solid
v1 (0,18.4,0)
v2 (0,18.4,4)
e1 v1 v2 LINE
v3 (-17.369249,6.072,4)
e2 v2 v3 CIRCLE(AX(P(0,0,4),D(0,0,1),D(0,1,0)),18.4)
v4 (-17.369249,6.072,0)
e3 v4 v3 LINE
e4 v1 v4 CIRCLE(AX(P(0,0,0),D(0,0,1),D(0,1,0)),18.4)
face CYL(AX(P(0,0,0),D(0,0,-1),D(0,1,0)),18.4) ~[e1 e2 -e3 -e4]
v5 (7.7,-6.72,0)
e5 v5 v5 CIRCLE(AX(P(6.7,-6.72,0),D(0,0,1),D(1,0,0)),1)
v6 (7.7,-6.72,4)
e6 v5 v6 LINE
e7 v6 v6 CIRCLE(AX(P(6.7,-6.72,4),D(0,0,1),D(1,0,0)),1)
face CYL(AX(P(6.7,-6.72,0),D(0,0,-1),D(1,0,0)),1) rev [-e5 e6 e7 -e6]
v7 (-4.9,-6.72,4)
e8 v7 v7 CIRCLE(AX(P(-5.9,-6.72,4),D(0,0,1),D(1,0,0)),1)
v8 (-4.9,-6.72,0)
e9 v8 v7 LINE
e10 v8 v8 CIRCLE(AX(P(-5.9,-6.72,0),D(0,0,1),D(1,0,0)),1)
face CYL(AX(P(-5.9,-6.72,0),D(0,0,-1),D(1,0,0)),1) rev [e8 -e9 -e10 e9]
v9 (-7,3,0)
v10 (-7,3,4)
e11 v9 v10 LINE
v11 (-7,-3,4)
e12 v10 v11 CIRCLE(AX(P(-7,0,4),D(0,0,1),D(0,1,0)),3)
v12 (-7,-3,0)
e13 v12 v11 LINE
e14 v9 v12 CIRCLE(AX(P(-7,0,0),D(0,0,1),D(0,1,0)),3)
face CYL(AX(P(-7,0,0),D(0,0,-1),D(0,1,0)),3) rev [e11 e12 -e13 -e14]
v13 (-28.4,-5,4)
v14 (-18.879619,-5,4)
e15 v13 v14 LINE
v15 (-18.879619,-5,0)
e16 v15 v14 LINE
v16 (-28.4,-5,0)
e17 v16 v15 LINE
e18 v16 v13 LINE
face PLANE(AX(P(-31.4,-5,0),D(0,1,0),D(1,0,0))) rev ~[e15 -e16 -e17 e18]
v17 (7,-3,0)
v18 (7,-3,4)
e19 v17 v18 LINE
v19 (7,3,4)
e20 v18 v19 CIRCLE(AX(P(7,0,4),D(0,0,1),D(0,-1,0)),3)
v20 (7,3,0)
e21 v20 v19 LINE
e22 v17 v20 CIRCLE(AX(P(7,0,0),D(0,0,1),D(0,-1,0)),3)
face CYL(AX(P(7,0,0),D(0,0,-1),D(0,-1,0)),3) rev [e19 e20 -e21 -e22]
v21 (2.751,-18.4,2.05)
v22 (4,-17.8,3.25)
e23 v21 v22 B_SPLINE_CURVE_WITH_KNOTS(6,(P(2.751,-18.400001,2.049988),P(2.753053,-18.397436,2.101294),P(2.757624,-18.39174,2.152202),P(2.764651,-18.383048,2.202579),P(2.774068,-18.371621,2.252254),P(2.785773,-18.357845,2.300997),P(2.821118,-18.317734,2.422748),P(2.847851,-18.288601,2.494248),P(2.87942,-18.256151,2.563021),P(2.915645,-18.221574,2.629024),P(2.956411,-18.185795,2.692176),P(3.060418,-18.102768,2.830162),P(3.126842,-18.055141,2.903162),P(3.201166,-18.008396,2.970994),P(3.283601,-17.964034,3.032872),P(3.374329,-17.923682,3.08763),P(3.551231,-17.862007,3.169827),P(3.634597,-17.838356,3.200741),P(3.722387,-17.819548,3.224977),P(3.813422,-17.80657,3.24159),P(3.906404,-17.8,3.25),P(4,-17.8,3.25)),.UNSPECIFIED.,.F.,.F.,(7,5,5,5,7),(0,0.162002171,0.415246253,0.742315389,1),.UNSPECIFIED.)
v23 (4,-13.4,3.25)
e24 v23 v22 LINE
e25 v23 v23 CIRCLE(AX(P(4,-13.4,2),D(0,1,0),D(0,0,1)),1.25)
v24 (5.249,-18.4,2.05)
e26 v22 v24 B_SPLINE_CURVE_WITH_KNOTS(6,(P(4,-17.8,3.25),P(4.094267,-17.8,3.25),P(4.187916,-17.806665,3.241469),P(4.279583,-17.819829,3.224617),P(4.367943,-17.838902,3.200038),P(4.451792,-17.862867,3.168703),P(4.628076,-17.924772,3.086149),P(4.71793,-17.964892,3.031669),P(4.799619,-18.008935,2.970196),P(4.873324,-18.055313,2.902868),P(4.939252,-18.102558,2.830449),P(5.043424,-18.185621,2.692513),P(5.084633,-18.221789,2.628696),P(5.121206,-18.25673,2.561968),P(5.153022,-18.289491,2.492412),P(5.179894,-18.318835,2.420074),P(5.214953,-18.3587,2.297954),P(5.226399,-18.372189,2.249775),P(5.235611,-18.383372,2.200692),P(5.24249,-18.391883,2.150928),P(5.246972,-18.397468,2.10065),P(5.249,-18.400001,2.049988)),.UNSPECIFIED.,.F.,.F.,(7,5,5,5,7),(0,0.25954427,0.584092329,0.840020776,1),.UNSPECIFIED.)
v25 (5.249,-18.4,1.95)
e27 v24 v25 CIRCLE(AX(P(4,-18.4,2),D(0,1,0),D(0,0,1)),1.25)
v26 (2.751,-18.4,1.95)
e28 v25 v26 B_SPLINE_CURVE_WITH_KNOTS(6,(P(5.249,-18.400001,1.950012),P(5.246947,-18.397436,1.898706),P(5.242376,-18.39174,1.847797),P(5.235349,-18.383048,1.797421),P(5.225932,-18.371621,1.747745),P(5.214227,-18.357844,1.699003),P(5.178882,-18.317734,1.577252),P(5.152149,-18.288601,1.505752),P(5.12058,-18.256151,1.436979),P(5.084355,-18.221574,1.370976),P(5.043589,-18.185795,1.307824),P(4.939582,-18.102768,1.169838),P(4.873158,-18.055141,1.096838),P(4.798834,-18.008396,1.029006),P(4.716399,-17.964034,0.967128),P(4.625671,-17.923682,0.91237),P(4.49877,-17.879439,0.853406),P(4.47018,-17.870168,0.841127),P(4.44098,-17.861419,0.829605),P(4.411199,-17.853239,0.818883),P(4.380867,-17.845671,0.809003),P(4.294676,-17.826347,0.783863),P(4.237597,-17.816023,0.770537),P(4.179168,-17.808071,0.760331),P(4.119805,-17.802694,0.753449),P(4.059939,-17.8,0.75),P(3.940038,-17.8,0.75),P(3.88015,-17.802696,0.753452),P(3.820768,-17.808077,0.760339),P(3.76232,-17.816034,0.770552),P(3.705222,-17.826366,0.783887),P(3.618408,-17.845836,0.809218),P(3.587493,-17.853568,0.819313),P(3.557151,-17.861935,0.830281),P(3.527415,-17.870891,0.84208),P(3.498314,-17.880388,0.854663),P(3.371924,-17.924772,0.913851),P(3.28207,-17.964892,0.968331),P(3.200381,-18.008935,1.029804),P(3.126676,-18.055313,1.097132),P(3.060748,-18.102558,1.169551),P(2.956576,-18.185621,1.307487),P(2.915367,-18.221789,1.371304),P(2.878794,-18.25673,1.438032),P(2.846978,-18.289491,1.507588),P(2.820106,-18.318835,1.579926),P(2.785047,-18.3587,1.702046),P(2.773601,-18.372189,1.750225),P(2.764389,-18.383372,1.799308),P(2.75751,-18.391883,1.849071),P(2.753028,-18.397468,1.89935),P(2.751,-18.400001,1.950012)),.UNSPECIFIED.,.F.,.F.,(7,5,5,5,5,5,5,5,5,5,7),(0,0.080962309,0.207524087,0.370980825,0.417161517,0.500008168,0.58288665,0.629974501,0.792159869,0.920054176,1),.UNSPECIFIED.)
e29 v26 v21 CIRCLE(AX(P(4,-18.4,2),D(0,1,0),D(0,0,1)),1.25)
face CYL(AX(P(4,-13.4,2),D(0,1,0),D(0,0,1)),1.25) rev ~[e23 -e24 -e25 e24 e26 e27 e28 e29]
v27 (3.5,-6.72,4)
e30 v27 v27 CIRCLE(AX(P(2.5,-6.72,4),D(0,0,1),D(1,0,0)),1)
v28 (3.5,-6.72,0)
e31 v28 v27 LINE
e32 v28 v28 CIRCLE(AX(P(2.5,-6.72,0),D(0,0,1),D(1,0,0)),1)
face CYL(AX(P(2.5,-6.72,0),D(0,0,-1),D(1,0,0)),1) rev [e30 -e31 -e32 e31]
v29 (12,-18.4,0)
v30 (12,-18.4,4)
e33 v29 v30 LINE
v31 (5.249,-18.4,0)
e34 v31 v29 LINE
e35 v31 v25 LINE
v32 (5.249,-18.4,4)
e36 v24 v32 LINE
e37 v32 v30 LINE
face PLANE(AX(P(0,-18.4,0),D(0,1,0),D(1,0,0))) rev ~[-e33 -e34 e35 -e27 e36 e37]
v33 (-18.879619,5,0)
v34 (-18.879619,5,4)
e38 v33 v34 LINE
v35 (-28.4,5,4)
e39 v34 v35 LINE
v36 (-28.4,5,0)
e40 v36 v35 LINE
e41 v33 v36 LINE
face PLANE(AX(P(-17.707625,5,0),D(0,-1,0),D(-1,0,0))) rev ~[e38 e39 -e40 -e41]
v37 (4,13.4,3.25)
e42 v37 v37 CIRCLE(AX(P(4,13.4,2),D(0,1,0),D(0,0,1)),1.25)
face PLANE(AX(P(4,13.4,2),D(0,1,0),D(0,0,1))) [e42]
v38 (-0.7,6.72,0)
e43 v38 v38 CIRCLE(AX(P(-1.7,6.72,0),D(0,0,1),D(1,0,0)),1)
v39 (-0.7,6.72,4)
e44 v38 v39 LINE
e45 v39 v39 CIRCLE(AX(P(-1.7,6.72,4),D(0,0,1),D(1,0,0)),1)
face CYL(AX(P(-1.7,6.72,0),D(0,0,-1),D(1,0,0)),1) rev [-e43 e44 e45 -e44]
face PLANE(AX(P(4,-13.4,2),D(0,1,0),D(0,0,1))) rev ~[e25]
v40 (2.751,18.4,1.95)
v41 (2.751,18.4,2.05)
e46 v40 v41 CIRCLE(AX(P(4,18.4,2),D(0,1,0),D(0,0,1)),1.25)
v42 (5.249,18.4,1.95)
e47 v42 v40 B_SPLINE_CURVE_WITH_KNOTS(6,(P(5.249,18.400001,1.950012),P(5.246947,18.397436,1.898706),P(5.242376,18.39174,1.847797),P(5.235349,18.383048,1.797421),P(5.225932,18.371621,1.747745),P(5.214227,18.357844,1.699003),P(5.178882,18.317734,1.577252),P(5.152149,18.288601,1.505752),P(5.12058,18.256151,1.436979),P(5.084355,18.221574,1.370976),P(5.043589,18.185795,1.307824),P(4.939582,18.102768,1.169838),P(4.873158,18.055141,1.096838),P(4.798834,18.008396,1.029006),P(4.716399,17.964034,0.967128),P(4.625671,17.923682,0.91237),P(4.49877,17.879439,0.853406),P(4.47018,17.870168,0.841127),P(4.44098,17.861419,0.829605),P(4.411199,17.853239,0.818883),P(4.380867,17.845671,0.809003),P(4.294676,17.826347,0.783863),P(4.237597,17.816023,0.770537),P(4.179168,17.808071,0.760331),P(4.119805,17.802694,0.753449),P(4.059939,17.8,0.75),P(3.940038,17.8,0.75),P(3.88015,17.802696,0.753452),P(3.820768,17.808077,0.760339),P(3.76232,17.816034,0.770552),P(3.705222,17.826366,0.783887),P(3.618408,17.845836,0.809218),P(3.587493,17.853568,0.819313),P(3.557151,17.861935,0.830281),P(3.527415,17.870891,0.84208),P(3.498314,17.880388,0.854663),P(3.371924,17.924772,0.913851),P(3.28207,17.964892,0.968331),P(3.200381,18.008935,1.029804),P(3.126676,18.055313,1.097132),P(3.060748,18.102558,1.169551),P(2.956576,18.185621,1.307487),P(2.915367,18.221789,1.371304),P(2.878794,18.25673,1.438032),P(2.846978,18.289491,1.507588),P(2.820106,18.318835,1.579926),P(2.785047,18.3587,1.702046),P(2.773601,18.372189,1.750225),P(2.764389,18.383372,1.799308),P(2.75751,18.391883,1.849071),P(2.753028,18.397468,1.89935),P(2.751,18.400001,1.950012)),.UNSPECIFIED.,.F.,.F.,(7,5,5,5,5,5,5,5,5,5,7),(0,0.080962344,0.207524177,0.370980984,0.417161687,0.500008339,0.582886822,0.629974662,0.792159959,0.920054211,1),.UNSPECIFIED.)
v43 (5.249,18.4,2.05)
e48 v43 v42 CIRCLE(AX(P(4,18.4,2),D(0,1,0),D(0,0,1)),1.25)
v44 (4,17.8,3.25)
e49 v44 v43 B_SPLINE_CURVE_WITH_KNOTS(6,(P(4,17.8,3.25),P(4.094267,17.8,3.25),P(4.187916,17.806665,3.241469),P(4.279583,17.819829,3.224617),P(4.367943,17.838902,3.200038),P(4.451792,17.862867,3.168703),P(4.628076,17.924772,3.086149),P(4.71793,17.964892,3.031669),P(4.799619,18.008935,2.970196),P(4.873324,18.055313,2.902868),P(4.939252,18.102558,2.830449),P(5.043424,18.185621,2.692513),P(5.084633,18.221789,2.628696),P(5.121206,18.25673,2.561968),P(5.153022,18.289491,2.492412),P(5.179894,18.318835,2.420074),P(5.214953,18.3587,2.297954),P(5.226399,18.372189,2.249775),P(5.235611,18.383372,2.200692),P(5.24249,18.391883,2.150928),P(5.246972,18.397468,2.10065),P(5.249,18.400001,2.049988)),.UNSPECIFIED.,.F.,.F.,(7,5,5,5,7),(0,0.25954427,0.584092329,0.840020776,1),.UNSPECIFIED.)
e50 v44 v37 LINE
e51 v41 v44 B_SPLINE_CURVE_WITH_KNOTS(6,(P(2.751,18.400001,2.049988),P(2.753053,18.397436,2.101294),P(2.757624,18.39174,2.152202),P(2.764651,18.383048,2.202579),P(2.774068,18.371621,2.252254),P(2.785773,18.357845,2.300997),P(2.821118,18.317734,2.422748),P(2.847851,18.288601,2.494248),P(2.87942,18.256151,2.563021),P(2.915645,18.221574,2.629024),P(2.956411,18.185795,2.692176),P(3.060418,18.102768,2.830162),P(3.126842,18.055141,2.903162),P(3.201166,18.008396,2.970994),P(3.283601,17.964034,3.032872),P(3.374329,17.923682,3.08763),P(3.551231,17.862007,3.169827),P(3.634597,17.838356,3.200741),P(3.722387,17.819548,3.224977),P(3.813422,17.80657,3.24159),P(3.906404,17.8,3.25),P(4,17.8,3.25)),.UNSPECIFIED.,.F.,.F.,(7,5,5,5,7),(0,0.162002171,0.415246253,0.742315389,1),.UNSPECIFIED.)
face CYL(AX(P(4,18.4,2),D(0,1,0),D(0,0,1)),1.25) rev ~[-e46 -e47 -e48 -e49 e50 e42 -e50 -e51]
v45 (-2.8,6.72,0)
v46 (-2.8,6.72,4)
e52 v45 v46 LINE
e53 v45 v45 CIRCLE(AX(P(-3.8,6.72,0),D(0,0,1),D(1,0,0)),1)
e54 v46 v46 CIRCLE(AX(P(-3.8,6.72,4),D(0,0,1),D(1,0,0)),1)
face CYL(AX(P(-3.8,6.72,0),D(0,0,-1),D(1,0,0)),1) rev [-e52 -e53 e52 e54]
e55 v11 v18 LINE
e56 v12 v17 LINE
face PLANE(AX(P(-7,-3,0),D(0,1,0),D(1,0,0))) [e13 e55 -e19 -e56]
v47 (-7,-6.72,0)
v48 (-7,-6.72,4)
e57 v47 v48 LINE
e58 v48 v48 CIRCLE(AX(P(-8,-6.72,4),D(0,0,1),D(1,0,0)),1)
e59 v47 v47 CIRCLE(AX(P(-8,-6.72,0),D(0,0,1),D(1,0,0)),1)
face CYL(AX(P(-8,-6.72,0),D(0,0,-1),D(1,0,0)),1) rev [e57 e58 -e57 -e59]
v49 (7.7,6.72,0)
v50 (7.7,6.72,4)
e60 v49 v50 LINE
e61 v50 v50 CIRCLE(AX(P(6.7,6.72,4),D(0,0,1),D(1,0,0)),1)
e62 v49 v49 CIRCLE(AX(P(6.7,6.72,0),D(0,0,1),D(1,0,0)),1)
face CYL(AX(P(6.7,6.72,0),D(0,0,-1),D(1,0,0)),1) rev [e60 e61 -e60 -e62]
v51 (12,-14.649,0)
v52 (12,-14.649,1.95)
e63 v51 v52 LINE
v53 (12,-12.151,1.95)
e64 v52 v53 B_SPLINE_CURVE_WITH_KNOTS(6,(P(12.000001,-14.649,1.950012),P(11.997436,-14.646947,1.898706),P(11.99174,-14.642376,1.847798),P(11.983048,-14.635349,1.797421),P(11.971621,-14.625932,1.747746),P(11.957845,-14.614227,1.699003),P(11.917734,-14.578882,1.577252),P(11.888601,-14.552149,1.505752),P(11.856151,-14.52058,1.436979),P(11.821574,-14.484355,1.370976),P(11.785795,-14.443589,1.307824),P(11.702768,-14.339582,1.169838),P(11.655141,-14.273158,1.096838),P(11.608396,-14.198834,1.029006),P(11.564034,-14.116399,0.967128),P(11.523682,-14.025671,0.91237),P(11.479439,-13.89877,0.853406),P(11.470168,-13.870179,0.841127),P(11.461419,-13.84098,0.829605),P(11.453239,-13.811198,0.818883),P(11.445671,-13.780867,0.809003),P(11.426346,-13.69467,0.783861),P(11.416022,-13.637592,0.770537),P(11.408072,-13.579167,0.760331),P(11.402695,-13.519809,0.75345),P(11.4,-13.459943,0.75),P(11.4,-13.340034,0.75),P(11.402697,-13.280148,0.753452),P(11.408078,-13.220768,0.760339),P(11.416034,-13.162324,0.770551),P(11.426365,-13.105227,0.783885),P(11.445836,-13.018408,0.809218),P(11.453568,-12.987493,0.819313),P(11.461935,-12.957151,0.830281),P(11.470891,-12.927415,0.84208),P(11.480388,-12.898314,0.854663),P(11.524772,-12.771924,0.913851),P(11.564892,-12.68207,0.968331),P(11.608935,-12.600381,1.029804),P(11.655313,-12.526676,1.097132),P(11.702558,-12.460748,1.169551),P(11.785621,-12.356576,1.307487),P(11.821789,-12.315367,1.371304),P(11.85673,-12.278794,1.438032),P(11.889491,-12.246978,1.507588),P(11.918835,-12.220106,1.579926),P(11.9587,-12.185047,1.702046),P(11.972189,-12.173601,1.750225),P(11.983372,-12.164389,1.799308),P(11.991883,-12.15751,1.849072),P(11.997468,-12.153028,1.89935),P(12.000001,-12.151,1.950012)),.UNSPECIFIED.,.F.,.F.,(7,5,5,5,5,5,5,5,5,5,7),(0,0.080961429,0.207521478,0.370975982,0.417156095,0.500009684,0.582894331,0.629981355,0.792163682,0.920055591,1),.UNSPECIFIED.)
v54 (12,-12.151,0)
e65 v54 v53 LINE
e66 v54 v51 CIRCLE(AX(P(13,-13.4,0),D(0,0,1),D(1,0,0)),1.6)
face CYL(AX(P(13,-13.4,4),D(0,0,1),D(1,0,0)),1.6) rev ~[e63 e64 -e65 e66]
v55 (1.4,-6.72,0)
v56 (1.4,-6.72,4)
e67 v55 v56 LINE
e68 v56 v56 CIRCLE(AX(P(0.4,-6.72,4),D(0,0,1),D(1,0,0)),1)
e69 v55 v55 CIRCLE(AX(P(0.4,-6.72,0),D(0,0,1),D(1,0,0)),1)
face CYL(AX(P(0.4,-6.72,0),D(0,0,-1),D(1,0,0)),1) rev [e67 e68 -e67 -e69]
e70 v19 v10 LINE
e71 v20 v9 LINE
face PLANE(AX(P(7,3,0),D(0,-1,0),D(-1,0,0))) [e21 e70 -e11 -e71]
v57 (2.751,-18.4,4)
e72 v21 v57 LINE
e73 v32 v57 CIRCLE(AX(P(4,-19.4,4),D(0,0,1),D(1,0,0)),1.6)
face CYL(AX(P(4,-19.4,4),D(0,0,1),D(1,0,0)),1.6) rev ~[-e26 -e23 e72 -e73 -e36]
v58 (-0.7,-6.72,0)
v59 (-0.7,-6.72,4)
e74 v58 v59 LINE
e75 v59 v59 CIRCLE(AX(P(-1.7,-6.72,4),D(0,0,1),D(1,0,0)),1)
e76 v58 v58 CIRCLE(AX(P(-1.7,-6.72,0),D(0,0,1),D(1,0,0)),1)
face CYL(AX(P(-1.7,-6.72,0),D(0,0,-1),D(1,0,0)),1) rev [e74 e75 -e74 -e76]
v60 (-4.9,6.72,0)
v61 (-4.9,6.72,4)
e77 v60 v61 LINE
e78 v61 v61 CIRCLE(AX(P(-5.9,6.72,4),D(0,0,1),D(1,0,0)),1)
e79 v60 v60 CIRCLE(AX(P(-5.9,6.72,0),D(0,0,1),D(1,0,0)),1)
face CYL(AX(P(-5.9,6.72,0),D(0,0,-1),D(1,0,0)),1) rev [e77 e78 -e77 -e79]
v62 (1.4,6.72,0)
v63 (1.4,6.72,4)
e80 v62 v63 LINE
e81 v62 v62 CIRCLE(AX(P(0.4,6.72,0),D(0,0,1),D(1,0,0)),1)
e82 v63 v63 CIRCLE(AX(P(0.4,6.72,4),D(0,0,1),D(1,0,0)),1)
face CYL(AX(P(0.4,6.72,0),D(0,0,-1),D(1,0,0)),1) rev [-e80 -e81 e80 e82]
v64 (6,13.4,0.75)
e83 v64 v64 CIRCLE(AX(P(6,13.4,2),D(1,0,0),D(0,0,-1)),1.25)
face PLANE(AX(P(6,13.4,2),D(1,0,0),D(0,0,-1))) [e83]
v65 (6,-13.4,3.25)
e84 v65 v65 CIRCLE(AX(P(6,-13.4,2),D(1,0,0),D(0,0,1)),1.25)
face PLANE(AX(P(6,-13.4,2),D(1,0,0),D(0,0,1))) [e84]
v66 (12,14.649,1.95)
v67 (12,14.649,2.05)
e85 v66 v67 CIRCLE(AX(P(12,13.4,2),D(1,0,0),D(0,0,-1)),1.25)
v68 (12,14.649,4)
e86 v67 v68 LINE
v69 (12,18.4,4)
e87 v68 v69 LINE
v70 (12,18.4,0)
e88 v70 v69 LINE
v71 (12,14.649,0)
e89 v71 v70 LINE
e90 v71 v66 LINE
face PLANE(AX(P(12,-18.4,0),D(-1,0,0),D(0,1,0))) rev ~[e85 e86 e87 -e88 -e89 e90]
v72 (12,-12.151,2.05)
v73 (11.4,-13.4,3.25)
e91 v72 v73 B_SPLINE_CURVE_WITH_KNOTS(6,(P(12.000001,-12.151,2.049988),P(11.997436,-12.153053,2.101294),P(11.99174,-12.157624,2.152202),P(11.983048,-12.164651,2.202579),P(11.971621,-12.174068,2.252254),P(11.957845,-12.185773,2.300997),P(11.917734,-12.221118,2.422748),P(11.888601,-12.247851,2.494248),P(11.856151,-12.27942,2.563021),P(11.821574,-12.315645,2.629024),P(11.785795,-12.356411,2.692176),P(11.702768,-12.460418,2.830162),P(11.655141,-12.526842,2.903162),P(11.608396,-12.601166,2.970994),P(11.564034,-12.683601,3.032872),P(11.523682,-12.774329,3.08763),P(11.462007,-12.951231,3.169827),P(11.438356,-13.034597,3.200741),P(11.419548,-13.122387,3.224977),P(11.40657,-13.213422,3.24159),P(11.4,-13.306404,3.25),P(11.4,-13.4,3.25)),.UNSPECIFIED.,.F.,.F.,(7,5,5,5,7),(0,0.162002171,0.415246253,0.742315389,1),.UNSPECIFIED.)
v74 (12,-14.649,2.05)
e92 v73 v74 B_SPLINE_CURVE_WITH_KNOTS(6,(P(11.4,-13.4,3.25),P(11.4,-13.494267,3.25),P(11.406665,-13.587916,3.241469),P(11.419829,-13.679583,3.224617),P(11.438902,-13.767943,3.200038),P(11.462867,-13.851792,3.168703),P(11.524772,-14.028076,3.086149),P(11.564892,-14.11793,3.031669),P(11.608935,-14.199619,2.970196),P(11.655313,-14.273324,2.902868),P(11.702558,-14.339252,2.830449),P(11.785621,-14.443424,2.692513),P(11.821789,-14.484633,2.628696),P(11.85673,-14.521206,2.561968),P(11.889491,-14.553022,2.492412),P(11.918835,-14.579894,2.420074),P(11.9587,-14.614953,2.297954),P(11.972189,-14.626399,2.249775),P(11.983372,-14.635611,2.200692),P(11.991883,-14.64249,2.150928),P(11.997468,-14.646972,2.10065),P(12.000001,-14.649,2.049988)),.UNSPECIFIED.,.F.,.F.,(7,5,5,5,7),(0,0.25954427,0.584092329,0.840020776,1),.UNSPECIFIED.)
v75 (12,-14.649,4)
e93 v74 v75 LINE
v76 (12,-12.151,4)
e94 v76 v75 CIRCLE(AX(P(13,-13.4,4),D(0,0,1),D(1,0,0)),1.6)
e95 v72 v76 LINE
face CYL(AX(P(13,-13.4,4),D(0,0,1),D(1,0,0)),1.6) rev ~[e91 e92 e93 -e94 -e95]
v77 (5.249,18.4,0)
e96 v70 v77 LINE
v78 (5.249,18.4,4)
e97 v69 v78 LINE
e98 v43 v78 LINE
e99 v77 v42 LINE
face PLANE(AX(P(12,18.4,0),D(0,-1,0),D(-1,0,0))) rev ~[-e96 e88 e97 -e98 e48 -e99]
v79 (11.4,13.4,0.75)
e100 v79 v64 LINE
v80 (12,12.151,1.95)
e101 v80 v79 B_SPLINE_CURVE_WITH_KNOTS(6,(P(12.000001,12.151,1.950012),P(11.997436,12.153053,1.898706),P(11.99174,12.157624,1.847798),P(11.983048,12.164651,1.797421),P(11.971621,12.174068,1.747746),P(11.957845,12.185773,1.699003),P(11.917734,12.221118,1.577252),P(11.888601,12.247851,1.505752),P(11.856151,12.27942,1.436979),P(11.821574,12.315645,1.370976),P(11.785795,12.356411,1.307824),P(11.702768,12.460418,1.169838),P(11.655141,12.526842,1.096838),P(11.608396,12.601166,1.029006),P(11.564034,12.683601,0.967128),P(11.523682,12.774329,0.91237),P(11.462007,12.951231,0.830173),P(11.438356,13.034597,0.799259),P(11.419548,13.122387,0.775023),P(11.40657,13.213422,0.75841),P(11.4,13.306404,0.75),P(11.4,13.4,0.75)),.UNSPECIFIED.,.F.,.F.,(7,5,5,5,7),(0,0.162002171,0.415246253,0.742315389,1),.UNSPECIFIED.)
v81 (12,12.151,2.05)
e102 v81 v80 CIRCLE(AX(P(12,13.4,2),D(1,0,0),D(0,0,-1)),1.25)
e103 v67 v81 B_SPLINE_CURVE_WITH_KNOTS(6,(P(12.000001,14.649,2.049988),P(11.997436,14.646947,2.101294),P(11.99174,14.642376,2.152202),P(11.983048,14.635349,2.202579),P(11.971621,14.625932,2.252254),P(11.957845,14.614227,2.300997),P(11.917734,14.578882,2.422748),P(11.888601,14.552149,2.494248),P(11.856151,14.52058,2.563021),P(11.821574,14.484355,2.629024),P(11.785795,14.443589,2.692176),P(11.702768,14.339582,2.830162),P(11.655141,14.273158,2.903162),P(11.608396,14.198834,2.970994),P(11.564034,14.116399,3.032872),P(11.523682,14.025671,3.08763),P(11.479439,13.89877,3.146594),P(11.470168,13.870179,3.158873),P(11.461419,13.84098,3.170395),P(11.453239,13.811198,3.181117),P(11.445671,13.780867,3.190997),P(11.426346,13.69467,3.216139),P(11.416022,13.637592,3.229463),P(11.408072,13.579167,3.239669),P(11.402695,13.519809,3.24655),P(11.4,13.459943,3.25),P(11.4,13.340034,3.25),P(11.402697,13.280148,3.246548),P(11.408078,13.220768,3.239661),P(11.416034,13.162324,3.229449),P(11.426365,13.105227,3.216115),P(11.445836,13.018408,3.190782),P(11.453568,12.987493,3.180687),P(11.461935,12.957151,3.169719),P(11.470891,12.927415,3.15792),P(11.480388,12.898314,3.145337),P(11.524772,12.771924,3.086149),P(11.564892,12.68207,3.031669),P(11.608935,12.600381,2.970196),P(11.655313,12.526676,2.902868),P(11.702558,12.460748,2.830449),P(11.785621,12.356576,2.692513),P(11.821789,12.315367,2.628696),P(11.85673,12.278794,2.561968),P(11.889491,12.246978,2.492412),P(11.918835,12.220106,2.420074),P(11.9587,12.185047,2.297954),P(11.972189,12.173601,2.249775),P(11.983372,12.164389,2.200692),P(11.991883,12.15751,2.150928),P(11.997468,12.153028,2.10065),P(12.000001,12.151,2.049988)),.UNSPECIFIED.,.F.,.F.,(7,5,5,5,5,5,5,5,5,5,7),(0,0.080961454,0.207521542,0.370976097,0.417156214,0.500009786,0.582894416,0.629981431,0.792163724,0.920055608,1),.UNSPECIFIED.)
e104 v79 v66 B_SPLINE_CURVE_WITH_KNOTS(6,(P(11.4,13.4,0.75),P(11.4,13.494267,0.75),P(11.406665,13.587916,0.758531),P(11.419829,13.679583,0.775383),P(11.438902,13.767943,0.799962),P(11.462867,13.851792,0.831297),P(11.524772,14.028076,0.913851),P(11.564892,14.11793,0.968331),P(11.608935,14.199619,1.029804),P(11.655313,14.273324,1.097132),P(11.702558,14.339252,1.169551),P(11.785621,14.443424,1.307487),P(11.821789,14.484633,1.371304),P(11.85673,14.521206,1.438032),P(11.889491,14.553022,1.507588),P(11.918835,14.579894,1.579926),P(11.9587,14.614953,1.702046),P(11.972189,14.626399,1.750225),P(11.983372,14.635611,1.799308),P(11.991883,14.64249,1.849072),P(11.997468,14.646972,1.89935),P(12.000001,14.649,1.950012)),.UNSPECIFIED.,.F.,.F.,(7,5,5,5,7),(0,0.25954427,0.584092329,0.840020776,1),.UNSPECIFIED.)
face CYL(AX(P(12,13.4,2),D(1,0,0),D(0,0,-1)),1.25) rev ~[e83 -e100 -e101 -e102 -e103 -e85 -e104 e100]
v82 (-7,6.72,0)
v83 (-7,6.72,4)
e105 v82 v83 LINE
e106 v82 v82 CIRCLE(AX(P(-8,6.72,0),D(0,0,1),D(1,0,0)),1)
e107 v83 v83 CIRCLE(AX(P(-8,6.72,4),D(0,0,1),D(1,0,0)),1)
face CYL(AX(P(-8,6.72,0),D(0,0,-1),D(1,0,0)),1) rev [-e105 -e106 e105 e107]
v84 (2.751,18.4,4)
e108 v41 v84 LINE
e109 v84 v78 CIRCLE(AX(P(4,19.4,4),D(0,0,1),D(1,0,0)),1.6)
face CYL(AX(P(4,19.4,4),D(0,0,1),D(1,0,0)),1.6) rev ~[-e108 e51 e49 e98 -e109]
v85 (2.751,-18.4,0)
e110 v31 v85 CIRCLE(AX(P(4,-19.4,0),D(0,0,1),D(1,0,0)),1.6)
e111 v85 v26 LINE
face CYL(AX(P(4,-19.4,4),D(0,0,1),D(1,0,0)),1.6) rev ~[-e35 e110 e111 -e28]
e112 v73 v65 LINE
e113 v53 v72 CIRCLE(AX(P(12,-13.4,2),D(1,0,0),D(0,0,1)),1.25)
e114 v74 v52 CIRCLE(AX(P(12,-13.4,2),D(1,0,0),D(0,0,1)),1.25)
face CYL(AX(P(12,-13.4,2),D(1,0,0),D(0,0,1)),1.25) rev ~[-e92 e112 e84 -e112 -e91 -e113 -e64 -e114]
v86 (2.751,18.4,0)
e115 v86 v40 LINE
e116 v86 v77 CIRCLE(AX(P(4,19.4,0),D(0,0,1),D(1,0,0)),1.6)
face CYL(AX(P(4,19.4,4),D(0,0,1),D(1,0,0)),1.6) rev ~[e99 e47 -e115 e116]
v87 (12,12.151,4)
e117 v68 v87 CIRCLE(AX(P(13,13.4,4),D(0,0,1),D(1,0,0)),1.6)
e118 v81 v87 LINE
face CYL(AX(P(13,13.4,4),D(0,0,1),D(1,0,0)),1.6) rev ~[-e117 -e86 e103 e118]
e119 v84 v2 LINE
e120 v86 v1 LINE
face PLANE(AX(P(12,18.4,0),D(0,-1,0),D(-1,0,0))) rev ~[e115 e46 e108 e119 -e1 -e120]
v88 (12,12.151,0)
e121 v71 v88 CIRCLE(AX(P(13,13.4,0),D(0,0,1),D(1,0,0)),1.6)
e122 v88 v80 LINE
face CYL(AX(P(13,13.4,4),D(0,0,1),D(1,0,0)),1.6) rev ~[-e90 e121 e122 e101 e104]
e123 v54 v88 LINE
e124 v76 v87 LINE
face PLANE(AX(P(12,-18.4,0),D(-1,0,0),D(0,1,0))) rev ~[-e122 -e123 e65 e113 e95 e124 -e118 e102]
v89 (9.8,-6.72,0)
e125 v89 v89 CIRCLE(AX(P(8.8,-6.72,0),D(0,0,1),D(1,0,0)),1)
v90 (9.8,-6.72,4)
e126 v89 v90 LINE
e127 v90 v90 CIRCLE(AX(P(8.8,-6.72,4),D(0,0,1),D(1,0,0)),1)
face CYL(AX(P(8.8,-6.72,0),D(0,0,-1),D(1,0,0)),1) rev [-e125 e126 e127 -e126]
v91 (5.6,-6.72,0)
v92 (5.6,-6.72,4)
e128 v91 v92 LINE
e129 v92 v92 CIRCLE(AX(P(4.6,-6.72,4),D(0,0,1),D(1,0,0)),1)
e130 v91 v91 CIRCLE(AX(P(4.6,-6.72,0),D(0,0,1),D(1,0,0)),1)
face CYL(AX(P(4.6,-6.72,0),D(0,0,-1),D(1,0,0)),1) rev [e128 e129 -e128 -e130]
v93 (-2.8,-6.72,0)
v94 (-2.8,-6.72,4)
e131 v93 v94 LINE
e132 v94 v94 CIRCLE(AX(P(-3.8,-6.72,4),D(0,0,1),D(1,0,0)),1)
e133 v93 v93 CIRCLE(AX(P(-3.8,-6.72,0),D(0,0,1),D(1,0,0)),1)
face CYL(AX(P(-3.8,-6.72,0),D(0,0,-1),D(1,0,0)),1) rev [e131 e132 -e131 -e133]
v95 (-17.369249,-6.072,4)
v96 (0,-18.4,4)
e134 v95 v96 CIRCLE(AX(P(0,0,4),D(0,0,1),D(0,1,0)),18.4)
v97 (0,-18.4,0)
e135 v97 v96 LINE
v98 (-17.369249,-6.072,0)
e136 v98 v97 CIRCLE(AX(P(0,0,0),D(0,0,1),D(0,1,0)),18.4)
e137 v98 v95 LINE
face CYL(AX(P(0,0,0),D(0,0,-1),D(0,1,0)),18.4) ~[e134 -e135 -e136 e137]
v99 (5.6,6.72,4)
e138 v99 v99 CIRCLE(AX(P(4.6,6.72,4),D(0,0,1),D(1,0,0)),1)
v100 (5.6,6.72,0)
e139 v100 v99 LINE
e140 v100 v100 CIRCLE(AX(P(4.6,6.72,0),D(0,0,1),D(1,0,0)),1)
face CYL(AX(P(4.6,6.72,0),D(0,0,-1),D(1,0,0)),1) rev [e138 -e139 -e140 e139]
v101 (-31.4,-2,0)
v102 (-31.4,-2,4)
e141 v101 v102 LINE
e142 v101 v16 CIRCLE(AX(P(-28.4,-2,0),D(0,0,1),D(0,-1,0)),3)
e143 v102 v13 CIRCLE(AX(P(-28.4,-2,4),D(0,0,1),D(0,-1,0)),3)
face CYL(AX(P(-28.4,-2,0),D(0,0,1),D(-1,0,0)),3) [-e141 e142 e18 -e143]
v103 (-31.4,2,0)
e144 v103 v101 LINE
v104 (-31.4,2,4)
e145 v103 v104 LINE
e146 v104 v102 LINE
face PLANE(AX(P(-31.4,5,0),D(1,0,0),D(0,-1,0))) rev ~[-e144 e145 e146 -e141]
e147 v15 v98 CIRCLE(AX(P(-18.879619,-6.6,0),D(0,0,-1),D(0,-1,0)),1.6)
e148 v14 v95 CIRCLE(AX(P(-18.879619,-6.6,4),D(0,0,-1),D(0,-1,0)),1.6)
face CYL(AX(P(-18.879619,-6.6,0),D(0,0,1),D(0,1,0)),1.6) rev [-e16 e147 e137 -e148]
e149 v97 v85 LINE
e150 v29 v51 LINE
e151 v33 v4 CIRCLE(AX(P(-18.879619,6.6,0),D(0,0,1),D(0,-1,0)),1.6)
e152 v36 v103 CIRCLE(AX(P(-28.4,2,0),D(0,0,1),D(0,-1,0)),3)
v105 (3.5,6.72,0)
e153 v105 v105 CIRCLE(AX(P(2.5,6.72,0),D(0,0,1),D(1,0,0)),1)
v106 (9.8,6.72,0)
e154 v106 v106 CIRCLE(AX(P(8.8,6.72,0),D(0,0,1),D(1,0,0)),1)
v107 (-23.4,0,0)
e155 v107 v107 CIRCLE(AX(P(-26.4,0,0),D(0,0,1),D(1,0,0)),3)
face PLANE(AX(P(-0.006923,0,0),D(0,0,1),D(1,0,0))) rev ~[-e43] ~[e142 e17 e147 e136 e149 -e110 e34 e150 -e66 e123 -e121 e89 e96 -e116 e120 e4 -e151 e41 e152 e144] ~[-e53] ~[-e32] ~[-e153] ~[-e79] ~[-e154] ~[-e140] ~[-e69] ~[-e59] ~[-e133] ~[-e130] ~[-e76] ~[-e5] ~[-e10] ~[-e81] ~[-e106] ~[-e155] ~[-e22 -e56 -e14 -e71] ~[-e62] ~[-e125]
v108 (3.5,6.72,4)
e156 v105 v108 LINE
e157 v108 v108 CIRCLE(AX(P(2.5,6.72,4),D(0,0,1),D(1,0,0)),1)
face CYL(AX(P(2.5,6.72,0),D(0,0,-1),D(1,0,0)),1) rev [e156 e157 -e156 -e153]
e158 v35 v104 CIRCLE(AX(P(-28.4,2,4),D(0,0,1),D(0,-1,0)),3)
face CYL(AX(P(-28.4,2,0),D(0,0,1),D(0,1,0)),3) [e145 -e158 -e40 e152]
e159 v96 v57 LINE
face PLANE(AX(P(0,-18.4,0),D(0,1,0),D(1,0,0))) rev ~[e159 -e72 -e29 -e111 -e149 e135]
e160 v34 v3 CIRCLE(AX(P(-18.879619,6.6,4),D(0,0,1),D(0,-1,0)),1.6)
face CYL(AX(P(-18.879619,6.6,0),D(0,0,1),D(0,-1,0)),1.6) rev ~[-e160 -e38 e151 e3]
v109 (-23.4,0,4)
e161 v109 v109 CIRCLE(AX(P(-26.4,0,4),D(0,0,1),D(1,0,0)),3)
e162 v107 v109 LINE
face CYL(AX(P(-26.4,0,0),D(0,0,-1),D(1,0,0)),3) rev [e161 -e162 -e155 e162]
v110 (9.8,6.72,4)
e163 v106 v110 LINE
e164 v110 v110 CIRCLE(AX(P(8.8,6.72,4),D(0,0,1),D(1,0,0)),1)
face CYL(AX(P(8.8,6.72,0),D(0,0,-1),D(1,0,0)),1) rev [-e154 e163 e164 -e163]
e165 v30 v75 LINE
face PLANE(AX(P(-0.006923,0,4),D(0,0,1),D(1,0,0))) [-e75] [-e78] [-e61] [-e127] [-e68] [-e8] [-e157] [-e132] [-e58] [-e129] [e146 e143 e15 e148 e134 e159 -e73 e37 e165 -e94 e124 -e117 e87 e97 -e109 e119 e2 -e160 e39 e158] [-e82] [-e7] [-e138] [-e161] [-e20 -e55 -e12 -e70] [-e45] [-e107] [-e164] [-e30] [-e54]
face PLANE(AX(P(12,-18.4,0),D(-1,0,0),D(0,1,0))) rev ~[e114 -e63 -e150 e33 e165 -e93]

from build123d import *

# Parameters (mm, degrees)
CROQUIS1_R              = 1
SALIENTE_EXTRUIR1_DEPTH = 4
CROQUIS5_R              = 1.25
CORTAR_EXTRUIR2_DEPTH   = 6
SALIENTE_EXTRUIR2_START = -4
CROQUIS6_R              = 3
SALIENTE_EXTRUIR2_DEPTH = 4
CROQUIS8_R              = 1.25
CORTAR_EXTRUIR4_DEPTH   = 5
CORTAR_EXTRUIR5_START   = -31.8
CROQUIS8_2_R            = 1.25
CORTAR_EXTRUIR5_DEPTH   = 5
REDONDEO1_R             = 3
REDONDEO2_R             = 1.6
CROQUIS7_R              = 1.6
CORTAR_EXTRUIR3_DEPTH   = 4


with BuildPart() as part:
    # Croquis1 → Saliente-Extruir1 (new body)
    with BuildSketch(Plane.XY):
        with BuildLine():
            Line((12, 0), (12, 18.4))
            Line((12, 18.4), (0, 18.4))
            ThreePointArc((0, 18.4), (-18.4, 0), (0, -18.4))
            Line((0, -18.4), (12, -18.4))
            Line((12, -18.4), (12, 0))
        make_face()
        with Locations((-8, -6.72)):
            Circle(CROQUIS1_R, mode=Mode.SUBTRACT)
        with Locations((-8, 6.72)):
            Circle(CROQUIS1_R, mode=Mode.SUBTRACT)
        with Locations((-5.9, -6.72)):
            Circle(CROQUIS1_R, mode=Mode.SUBTRACT)
        with Locations((-5.9, 6.72)):
            Circle(CROQUIS1_R, mode=Mode.SUBTRACT)
        with Locations((-3.8, -6.72)):
            Circle(CROQUIS1_R, mode=Mode.SUBTRACT)
        with Locations((-3.8, 6.72)):
            Circle(CROQUIS1_R, mode=Mode.SUBTRACT)
        with Locations((-1.7, -6.72)):
            Circle(CROQUIS1_R, mode=Mode.SUBTRACT)
        with Locations((-1.7, 6.72)):
            Circle(CROQUIS1_R, mode=Mode.SUBTRACT)
        with Locations((0.4, -6.72)):
            Circle(CROQUIS1_R, mode=Mode.SUBTRACT)
        with Locations((0.4, 6.72)):
            Circle(CROQUIS1_R, mode=Mode.SUBTRACT)
        with Locations((2.5, -6.72)):
            Circle(CROQUIS1_R, mode=Mode.SUBTRACT)
        with Locations((2.5, 6.72)):
            Circle(CROQUIS1_R, mode=Mode.SUBTRACT)
        with Locations((4.6, -6.72)):
            Circle(CROQUIS1_R, mode=Mode.SUBTRACT)
        with Locations((4.6, 6.72)):
            Circle(CROQUIS1_R, mode=Mode.SUBTRACT)
        with Locations((6.7, -6.72)):
            Circle(CROQUIS1_R, mode=Mode.SUBTRACT)
        with Locations((6.7, 6.72)):
            Circle(CROQUIS1_R, mode=Mode.SUBTRACT)
        with Locations((8.8, -6.72)):
            Circle(CROQUIS1_R, mode=Mode.SUBTRACT)
        with Locations((8.8, 6.72)):
            Circle(CROQUIS1_R, mode=Mode.SUBTRACT)
        with BuildLine():
            Line((7, 3), (-7, 3))
            ThreePointArc((-7, 3), (-10, 0), (-7, -3))
            Line((-7, -3), (7, -3))
            ThreePointArc((7, -3), (10, 0), (7, 3))
        make_face(mode=Mode.SUBTRACT)
    extrude(amount=SALIENTE_EXTRUIR1_DEPTH)

    # Croquis5 → Cortar-Extruir2 (cut)
    with BuildSketch(Plane(origin=(12, 0, 0), x_dir=(0, 0, -1), z_dir=(1, 0, 0))):
        with Locations((-2, 13.4)):
            Circle(CROQUIS5_R)
        with Locations(Location((-2, -13.4, 0), (0, 0, 180))):
            Circle(CROQUIS5_R)
    extrude(amount=-CORTAR_EXTRUIR2_DEPTH, mode=Mode.SUBTRACT)

    # Croquis6 → Saliente-Extruir2 (add)
    with BuildSketch(Plane.XY.offset(4).offset(SALIENTE_EXTRUIR2_START)):
        with BuildLine():
            Line((-31.4, 5), (-31.4, -5))
            Line((-31.4, -5), (-17.707625476, -5))
            ThreePointArc((-17.707625476, -5), (-18.4, 0), (-17.707625476, 5))
            Line((-17.707625476, 5), (-31.4, 5))
        make_face()
        with Locations((-26.4, 0)):
            Circle(CROQUIS6_R, mode=Mode.SUBTRACT)
    extrude(amount=SALIENTE_EXTRUIR2_DEPTH)

    # Croquis8 → Cortar-Extruir4 (cut)
    with BuildSketch(Plane(origin=(0, 18.4, 0), x_dir=(1, 0, 0), z_dir=(0, 1, 0))):
        with Locations(Location((4, -2, 0), (0, 0, 270))):
            Circle(CROQUIS8_R)
    extrude(amount=-CORTAR_EXTRUIR4_DEPTH, mode=Mode.SUBTRACT)

    # Croquis8<2> → Cortar-Extruir5 (cut)
    with BuildSketch(Plane(origin=(0, 18.4, 0), x_dir=(1, 0, 0), z_dir=(0, 1, 0)).offset(CORTAR_EXTRUIR5_START)):
        with Locations(Location((4, -2, 0), (0, 0, 270))):
            Circle(CROQUIS8_2_R)
    extrude(amount=-CORTAR_EXTRUIR5_DEPTH, mode=Mode.SUBTRACT)

    # Redondeo1
    redondeo1_edges = [part.edges().sort_by_distance(p)[0] for p in [
        (-31.4, 5, 2),
        (-31.4, -5, 2),
    ]]
    fillet(redondeo1_edges, radius=REDONDEO1_R)

    # Redondeo2
    redondeo2_edges = [part.edges().sort_by_distance(p)[0] for p in [
        (-17.707625476, 5, 2),
        (-17.707625476, -5, 2),
    ]]
    fillet(redondeo2_edges, radius=REDONDEO2_R)

    # Croquis7 → Cortar-Extruir3 (cut)
    with BuildSketch(Plane.XY.offset(4)):
        with Locations((4, 19.4)):
            Circle(CROQUIS7_R)
        with Locations((4, -19.4)):
            Circle(CROQUIS7_R)
        with Locations((13, 13.4)):
            Circle(CROQUIS7_R)
        with Locations((13, -13.4)):
            Circle(CROQUIS7_R)
    extrude(amount=-CORTAR_EXTRUIR3_DEPTH, mode=Mode.SUBTRACT)


solid = part.part
